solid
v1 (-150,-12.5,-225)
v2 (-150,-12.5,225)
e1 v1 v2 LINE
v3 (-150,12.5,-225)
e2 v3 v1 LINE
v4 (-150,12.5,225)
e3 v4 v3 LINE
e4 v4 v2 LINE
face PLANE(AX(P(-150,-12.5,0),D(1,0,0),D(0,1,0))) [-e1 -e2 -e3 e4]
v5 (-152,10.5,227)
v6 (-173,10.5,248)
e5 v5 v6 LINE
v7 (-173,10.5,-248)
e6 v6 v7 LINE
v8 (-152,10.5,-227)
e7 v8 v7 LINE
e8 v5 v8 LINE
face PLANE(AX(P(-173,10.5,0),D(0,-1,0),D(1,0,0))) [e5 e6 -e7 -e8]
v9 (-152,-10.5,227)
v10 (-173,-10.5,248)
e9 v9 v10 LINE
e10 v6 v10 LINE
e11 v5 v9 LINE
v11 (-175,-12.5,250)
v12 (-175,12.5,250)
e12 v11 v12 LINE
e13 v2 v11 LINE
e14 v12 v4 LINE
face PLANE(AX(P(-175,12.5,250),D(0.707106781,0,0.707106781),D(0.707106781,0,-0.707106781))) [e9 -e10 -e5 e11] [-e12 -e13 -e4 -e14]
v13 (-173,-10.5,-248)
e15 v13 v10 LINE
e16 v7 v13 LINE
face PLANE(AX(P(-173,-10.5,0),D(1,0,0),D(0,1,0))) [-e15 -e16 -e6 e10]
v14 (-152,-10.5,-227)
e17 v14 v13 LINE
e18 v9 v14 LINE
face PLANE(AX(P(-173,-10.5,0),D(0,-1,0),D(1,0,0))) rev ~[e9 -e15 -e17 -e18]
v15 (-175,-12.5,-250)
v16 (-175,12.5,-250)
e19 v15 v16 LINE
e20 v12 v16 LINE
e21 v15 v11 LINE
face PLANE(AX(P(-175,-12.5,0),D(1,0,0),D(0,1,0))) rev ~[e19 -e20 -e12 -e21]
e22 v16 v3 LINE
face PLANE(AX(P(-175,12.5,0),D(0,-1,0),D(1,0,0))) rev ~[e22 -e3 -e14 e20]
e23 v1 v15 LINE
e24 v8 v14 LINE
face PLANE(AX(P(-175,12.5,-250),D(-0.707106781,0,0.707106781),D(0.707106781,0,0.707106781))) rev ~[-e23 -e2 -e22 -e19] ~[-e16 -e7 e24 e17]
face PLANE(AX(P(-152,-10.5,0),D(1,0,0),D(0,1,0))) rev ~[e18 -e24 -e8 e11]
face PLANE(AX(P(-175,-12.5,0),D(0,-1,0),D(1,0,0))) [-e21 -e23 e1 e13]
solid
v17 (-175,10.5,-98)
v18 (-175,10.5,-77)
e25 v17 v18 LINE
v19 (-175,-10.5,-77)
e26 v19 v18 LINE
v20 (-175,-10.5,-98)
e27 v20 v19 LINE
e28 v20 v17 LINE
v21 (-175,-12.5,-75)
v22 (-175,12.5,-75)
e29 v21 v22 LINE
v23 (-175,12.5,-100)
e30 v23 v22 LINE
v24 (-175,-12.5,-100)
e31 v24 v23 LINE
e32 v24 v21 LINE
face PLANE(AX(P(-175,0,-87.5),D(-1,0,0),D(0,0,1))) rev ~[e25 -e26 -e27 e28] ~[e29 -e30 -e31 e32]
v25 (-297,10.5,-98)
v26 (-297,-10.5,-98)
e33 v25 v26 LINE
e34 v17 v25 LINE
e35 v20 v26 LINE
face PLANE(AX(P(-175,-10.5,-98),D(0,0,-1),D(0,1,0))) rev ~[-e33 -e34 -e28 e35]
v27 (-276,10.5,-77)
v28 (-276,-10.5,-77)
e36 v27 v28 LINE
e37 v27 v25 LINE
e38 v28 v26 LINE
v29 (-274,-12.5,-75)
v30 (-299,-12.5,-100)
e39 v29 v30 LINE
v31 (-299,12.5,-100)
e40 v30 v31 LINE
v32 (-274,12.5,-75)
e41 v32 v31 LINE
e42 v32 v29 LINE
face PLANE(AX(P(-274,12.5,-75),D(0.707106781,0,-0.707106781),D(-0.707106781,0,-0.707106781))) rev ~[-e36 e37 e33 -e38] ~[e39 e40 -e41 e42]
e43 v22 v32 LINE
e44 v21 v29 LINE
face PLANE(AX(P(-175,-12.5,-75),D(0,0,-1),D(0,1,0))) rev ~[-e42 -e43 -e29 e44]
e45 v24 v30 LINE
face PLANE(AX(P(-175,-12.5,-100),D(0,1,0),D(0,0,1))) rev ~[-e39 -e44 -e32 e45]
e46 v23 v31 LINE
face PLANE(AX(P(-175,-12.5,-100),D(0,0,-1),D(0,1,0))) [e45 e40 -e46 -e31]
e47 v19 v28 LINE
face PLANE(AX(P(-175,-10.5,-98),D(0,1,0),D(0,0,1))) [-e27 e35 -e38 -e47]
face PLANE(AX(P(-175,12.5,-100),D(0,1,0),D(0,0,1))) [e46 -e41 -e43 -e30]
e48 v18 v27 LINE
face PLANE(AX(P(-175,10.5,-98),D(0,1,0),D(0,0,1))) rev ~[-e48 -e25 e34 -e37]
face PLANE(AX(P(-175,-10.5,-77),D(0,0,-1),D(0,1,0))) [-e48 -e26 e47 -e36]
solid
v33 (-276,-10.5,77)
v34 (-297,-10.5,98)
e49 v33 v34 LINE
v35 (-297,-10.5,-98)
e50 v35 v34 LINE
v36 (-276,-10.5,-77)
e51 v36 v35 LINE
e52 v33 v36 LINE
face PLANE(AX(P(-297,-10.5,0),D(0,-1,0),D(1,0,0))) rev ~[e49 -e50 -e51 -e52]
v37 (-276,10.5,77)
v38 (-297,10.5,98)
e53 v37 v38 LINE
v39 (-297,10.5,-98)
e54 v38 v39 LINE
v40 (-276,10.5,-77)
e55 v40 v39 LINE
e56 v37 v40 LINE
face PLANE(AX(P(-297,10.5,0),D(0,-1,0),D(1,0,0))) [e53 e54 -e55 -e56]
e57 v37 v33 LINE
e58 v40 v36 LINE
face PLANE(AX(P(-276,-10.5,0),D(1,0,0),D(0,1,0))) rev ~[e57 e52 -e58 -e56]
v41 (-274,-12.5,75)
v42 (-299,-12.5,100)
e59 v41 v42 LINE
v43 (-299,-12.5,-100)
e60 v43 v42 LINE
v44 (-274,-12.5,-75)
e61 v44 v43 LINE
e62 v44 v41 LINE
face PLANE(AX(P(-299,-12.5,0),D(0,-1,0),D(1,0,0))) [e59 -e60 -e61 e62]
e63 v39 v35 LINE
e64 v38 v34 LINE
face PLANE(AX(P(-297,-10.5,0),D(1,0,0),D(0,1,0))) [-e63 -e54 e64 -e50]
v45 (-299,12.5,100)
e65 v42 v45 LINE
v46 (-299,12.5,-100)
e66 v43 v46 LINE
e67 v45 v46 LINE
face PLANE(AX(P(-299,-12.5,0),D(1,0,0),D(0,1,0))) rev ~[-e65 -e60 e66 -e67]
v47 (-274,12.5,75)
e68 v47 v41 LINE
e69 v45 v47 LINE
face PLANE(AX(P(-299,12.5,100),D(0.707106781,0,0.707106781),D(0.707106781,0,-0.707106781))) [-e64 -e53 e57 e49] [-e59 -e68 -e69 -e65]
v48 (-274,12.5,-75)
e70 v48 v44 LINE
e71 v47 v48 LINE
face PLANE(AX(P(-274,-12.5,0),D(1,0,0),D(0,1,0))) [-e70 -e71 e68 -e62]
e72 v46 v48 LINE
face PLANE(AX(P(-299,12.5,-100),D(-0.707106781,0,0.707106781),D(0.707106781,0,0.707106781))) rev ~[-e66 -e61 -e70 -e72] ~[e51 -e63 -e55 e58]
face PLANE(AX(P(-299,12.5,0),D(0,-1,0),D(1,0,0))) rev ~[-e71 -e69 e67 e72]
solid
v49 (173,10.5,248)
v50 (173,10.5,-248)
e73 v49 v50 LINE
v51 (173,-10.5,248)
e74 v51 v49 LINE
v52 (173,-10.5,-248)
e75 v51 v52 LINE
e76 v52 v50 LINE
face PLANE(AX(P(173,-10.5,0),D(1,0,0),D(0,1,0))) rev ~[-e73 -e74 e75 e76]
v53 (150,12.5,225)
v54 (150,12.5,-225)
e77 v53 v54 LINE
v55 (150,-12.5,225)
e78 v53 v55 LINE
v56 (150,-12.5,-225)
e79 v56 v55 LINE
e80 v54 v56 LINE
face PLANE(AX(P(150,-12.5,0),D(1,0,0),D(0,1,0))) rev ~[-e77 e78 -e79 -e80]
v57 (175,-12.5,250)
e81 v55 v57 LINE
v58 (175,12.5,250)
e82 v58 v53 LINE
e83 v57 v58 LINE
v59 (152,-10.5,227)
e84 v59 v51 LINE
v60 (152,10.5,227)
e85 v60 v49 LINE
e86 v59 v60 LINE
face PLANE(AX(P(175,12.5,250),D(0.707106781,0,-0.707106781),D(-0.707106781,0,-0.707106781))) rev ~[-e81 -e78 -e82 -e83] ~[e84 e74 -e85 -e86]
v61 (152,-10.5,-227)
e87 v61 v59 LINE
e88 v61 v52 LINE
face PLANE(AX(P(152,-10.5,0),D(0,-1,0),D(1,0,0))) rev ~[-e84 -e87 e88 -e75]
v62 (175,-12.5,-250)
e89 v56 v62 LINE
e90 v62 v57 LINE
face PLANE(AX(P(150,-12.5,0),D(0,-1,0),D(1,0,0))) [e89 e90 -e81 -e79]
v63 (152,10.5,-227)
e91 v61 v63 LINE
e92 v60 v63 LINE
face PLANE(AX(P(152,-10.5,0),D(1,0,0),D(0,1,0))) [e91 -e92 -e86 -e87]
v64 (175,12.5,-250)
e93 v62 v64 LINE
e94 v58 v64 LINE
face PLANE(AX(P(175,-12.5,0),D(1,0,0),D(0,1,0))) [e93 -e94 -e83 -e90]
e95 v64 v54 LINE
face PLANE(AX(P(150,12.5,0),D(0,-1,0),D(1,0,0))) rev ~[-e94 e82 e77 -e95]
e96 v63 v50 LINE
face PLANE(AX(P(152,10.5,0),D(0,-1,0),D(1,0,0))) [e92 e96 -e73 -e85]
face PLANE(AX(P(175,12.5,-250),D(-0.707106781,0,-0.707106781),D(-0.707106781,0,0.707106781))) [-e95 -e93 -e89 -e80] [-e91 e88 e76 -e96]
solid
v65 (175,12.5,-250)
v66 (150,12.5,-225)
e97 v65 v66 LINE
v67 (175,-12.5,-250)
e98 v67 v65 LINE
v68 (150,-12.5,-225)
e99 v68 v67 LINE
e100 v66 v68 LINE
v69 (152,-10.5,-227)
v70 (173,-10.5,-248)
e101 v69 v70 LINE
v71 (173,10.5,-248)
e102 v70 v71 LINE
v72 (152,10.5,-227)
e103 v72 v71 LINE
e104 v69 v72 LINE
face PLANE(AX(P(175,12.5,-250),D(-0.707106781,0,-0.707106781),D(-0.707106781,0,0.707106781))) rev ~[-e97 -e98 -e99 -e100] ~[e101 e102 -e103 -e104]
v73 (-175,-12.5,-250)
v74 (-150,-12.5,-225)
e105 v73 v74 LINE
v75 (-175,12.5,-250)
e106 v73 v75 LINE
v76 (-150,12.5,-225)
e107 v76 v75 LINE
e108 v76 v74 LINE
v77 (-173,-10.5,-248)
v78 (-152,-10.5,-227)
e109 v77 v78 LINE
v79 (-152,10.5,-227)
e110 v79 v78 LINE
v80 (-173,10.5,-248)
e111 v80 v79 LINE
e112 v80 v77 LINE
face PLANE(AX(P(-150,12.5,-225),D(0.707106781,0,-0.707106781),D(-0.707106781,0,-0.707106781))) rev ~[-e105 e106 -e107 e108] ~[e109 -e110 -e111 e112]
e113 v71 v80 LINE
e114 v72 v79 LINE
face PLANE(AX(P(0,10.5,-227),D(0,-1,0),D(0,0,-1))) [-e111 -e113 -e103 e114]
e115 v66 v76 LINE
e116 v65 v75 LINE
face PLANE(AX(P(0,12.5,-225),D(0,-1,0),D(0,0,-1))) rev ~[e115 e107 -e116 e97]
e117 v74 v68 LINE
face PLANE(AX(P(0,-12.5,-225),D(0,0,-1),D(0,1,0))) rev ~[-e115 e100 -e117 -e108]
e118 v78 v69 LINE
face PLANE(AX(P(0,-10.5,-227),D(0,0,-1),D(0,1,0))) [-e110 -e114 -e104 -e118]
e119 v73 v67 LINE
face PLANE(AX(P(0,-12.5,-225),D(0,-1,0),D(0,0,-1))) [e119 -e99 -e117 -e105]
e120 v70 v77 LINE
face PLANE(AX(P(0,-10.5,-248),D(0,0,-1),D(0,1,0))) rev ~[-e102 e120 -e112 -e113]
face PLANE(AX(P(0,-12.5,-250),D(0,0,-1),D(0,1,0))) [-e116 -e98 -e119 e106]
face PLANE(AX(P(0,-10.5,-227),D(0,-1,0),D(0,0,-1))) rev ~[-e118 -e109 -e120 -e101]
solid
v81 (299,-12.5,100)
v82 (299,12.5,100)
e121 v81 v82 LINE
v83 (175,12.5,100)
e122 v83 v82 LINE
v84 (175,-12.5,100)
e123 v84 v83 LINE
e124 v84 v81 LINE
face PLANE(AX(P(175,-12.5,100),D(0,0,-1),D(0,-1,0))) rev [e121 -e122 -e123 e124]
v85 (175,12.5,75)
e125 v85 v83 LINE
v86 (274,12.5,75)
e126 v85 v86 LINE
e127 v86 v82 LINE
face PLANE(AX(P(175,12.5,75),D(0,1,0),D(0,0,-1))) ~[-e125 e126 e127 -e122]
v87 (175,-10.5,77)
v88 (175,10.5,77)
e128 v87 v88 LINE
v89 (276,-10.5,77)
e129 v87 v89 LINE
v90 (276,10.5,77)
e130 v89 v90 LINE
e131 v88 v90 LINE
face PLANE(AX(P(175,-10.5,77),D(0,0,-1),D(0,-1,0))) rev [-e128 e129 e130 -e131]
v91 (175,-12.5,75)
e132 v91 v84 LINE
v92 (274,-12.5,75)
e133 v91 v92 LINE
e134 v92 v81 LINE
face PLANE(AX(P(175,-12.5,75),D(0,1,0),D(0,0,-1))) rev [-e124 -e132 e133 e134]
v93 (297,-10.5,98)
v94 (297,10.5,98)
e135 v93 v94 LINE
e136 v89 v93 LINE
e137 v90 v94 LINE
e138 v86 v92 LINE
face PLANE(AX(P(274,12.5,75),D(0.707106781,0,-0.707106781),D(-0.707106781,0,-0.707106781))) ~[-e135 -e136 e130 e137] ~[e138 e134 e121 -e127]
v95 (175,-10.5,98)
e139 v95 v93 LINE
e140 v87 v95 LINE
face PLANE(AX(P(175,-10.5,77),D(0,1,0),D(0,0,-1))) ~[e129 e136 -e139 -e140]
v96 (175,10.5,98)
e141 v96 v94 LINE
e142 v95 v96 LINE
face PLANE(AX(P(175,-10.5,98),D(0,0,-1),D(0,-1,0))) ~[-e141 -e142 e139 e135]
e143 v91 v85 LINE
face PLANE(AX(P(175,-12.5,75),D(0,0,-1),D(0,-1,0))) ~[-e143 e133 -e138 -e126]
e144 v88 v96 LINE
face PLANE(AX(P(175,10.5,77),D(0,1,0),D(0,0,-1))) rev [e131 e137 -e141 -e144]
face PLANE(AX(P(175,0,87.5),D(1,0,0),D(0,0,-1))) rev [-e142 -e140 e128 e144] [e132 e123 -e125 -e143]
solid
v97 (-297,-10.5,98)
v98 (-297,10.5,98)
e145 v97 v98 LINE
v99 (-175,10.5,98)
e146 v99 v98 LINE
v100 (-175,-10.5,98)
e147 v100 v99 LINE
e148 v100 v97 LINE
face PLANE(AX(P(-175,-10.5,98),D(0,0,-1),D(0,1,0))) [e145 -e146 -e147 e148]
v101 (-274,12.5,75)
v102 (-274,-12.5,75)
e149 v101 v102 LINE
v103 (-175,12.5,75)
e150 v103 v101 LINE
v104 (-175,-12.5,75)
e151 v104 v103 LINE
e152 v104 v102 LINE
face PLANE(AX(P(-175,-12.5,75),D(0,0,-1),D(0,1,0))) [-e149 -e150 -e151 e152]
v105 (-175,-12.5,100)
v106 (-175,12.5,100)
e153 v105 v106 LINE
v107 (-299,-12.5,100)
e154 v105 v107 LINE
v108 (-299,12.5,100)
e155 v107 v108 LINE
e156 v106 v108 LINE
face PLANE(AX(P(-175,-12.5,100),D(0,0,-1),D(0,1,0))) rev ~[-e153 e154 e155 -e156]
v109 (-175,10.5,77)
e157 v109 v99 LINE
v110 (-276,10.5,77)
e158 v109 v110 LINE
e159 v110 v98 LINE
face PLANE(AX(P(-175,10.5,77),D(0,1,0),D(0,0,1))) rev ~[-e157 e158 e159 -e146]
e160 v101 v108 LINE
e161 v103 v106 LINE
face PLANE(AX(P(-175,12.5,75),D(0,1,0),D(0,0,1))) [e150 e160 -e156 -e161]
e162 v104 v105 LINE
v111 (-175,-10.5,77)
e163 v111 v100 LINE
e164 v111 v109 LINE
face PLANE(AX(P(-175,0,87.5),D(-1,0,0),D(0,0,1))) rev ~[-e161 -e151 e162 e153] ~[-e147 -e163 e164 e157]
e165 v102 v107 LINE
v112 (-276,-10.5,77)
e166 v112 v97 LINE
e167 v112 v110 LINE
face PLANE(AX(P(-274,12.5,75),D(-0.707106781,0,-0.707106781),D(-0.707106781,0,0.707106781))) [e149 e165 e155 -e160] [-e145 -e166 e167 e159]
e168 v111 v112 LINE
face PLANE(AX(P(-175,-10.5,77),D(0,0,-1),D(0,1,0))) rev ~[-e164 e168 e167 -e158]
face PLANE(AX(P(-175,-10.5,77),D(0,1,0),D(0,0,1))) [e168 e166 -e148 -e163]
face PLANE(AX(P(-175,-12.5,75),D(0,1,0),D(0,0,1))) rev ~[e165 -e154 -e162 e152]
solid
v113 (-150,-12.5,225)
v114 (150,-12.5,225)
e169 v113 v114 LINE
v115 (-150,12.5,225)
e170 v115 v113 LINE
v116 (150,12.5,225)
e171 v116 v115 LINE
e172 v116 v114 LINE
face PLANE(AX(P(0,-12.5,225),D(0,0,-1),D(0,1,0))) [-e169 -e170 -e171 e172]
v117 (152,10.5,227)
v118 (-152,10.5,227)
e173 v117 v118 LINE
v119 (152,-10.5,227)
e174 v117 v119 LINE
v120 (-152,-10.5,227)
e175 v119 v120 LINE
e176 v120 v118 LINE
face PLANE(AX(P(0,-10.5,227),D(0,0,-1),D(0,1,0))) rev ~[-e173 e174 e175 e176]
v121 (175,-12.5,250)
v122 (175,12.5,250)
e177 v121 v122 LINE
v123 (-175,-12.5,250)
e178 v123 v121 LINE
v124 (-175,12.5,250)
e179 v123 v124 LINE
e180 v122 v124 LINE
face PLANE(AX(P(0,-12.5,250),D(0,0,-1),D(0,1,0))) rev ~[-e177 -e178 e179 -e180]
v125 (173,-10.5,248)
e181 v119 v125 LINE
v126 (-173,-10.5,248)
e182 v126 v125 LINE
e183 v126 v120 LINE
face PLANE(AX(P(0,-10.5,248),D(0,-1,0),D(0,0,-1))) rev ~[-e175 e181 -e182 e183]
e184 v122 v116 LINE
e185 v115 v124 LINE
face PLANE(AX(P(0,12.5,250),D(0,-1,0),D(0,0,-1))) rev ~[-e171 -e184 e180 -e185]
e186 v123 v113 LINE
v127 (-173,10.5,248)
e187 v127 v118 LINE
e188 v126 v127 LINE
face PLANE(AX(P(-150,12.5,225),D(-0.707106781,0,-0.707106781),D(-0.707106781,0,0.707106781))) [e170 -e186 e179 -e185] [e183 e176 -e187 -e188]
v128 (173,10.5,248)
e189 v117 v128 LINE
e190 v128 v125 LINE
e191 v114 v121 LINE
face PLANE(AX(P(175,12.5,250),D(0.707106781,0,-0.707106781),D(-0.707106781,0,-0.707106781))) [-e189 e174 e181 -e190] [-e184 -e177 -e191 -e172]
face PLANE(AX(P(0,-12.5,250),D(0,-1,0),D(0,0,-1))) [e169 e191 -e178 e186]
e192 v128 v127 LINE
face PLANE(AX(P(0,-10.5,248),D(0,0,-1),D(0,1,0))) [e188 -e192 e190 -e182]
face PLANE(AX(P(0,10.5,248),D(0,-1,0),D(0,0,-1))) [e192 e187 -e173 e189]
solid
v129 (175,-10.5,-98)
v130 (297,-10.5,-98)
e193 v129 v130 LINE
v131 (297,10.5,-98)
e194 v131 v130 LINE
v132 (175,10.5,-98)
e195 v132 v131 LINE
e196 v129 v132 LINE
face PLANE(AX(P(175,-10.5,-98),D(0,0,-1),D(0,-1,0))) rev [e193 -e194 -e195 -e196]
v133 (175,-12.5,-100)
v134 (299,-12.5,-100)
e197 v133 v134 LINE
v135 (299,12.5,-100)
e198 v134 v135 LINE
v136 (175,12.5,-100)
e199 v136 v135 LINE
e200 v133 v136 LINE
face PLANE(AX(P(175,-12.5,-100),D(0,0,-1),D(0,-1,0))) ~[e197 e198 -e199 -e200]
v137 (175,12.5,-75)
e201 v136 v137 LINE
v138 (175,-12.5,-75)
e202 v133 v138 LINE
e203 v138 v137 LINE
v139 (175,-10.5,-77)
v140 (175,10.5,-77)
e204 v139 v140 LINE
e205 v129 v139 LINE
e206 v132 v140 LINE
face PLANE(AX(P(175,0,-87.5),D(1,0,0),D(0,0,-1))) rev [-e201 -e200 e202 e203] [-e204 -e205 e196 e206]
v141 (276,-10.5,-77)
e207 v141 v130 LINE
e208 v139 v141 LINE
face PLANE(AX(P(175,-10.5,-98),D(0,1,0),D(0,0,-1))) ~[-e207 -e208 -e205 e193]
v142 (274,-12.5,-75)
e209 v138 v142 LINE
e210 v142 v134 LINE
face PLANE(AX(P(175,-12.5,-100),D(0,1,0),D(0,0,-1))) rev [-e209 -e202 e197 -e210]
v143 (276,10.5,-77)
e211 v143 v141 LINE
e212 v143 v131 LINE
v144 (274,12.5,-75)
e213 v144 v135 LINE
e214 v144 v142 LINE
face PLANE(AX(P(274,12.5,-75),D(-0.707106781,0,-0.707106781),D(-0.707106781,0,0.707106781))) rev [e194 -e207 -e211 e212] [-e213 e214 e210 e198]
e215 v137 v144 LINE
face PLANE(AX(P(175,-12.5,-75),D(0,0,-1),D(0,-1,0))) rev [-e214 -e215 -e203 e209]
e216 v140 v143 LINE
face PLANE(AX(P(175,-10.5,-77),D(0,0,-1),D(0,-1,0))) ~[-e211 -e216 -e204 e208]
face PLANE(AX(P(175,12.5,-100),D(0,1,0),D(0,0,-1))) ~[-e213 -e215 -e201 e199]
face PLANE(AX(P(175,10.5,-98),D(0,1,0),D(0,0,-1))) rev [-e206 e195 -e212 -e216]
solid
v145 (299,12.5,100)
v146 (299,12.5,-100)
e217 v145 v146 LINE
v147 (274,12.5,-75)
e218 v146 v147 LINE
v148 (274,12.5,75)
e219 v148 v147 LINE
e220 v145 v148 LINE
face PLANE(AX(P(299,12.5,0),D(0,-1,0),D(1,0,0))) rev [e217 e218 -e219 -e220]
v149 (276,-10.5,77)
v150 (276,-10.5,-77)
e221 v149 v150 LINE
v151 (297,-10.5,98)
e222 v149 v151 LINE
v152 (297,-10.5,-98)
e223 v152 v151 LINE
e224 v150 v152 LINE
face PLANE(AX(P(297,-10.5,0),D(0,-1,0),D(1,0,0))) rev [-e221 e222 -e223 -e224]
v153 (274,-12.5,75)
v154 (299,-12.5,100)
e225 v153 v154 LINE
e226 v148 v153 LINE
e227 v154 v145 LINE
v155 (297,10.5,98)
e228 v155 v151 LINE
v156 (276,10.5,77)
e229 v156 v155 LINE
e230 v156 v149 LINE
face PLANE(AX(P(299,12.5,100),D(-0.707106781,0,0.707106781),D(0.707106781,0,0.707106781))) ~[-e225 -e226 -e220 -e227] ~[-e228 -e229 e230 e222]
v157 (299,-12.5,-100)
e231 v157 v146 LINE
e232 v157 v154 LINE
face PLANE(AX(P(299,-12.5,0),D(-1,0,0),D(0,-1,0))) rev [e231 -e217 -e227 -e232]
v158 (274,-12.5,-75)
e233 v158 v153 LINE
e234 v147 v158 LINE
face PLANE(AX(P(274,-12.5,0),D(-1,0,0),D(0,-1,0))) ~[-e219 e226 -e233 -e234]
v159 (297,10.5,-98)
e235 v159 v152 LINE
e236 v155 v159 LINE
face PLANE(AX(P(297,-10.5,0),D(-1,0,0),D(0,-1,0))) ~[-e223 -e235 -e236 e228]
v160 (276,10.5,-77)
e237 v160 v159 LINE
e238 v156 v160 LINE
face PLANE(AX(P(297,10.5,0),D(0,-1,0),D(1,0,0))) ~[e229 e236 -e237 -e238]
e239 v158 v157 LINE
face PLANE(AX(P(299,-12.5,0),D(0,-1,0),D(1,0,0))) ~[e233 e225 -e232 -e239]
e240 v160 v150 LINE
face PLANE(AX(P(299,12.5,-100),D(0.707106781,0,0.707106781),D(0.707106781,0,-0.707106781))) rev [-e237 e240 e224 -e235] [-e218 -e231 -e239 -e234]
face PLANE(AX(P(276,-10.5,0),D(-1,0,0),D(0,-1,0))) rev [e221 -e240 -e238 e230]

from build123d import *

# Parameters (mm, degrees)
SKETCH1_W             = 25
SKETCH1_H             = 25
SKETCH1_W_2           = 21
SKETCH1_H_2           = 21
BOSS_EXTRUDE1_DEPTH   = 250
BOSS_EXTRUDE1_2_DEPTH = 250
CUT_EXTRUDE1_DEPTH    = 26
SKETCH3_W             = 25
SKETCH3_H             = 25
SKETCH3_W_2           = 21
SKETCH3_H_2           = 21
BOSS_EXTRUDE2_DEPTH   = 175
BOSS_EXTRUDE2_2_DEPTH = 175
CUT_EXTRUDE2_DEPTH    = 26
SKETCH5_W             = 25
SKETCH5_H             = 25
SKETCH5_W_2           = 21
SKETCH5_H_2           = 21
BOSS_EXTRUDE3_DEPTH   = 124
BOSS_EXTRUDE3_2_DEPTH = 124
CUT_EXTRUDE3_DEPTH    = 26
SKETCH7_W             = 25
SKETCH7_H             = 25
SKETCH7_W_2           = 21
SKETCH7_H_2           = 21
BOSS_EXTRUDE4_DEPTH   = 100
CUT_EXTRUDE4_DEPTH    = 26


with BuildPart() as part:
    # Sketch1 → Boss-Extrude1 (new body, symmetric)
    with BuildSketch(Plane.XY):
        with Locations((-162.5, 0)):
            Rectangle(SKETCH1_W, SKETCH1_H)
        with Locations((-162.5, 0)):
            Rectangle(SKETCH1_W_2, SKETCH1_H_2, mode=Mode.SUBTRACT)
    extrude(amount=BOSS_EXTRUDE1_DEPTH, both=True)


with BuildPart() as body_2:
    # Sketch1 → Boss-Extrude1 2 (new body, symmetric)
    with BuildSketch(Plane.XY):
        with Locations((162.5, 0)):
            Rectangle(SKETCH1_W, SKETCH1_H)
        with Locations((162.5, 0)):
            Rectangle(SKETCH1_W_2, SKETCH1_H_2, mode=Mode.SUBTRACT)
    extrude(amount=BOSS_EXTRUDE1_2_DEPTH, both=True)


with BuildPart() as cut_extrude1_tool:
    # Sketch2 → Cut-Extrude1 (new body, through all)
    with BuildSketch(Plane(origin=(0, 12.5, 0), x_dir=(1, 0, 0), z_dir=(0, 1, 0))):
        Polygon((-175, 250), (-150, 225), (-150, 250), align=None)
        Polygon((175, 250), (150, 225), (150, 250), align=None)
        Polygon((-175, -250), (-150, -225), (-150, -250), align=None)
        Polygon((175, -250), (150, -225), (150, -250), align=None)
    extrude(amount=-CUT_EXTRUDE1_DEPTH)


with BuildPart() as part_1:
    add(part.part)

    # Cut-Extrude1: cut by cut_extrude1_tool
    add(cut_extrude1_tool.part, mode=Mode.SUBTRACT)


with BuildPart() as body_2_1:
    add(body_2.part)

    # Cut-Extrude1: cut by cut_extrude1_tool
    add(cut_extrude1_tool.part, mode=Mode.SUBTRACT)


with BuildPart() as body_3:
    # Sketch3 → Boss-Extrude2 (new body, symmetric)
    with BuildSketch(Plane(origin=(0, 0, 0), x_dir=(0, 0, -1), z_dir=(1, 0, 0))):
        with Locations((-237.5, 0)):
            Rectangle(SKETCH3_W, SKETCH3_H)
        with Locations((-237.5, 0)):
            Rectangle(SKETCH3_W_2, SKETCH3_H_2, mode=Mode.SUBTRACT)
    extrude(amount=BOSS_EXTRUDE2_DEPTH, both=True)


with BuildPart() as body_4:
    # Sketch3 → Boss-Extrude2 2 (new body, symmetric)
    with BuildSketch(Plane(origin=(0, 0, 0), x_dir=(0, 0, -1), z_dir=(1, 0, 0))):
        with Locations((237.5, 0)):
            Rectangle(SKETCH3_W, SKETCH3_H)
        with Locations((237.5, 0)):
            Rectangle(SKETCH3_W_2, SKETCH3_H_2, mode=Mode.SUBTRACT)
    extrude(amount=BOSS_EXTRUDE2_2_DEPTH, both=True)


with BuildPart() as cut_extrude2_tool:
    # Sketch4 → Cut-Extrude2 (new body, through all)
    with BuildSketch(Plane(origin=(0, 12.5, 0), x_dir=(1, 0, 0), z_dir=(0, 1, 0))):
        Polygon((-175, 250), (-175, 225), (-150, 225), align=None)
        Polygon((175, 250), (150, 225), (175, 225), align=None)
        Polygon((175, -225), (175, -250), (150, -225), align=None)
        Polygon((-150, -225), (-175, -250), (-175, -225), align=None)
    extrude(amount=-CUT_EXTRUDE2_DEPTH)


with BuildPart() as body_3_1:
    add(body_3.part)

    # Cut-Extrude2: cut by cut_extrude2_tool
    add(cut_extrude2_tool.part, mode=Mode.SUBTRACT)


with BuildPart() as body_4_1:
    add(body_4.part)

    # Cut-Extrude2: cut by cut_extrude2_tool
    add(cut_extrude2_tool.part, mode=Mode.SUBTRACT)


with BuildPart() as body_5:
    # Sketch5 → Boss-Extrude3 (new body)
    with BuildSketch(Plane.ZY.offset(175)):
        with Locations((-87.5, 0)):
            Rectangle(SKETCH5_W, SKETCH5_H)
        with Locations((-87.5, 0)):
            Rectangle(SKETCH5_W_2, SKETCH5_H_2, mode=Mode.SUBTRACT)
    extrude(amount=BOSS_EXTRUDE3_DEPTH)


with BuildPart() as body_6:
    # Sketch5 → Boss-Extrude3 2 (new body)
    with BuildSketch(Plane.ZY.offset(175)):
        with Locations((87.5, 0)):
            Rectangle(SKETCH5_W, SKETCH5_H)
        with Locations((87.5, 0)):
            Rectangle(SKETCH5_W_2, SKETCH5_H_2, mode=Mode.SUBTRACT)
    extrude(amount=BOSS_EXTRUDE3_2_DEPTH)


with BuildPart() as cut_extrude3_tool:
    # Sketch6 → Cut-Extrude3 (new body, through all)
    with BuildSketch(Plane(origin=(0, 12.5, 0), x_dir=(1, 0, 0), z_dir=(0, 1, 0))):
        Polygon((-299, 100), (-299, 75), (-274, 75), align=None)
        Polygon((-299, -100), (-299, -75), (-274, -75), align=None)
    extrude(amount=-CUT_EXTRUDE3_DEPTH)


with BuildPart() as body_5_1:
    add(body_5.part)

    # Cut-Extrude3: cut by cut_extrude3_tool
    add(cut_extrude3_tool.part, mode=Mode.SUBTRACT)


with BuildPart() as body_6_1:
    add(body_6.part)

    # Cut-Extrude3: cut by cut_extrude3_tool
    add(cut_extrude3_tool.part, mode=Mode.SUBTRACT)


with BuildPart() as body_7:
    # Sketch7 → Boss-Extrude4 (new body, symmetric)
    with BuildSketch(Plane.XY):
        with Locations((-286.5, 0)):
            Rectangle(SKETCH7_W, SKETCH7_H)
        with Locations((-286.5, 0)):
            Rectangle(SKETCH7_W_2, SKETCH7_H_2, mode=Mode.SUBTRACT)
    extrude(amount=BOSS_EXTRUDE4_DEPTH, both=True)

    # Sketch8 → Cut-Extrude4 (cut, through all)
    with BuildSketch(Plane(origin=(0, 12.5, 0), x_dir=(1, 0, 0), z_dir=(0, 1, 0))):
        Polygon((-299, 100), (-274, 75), (-274, 100), align=None)
        Polygon((-274, -75), (-274, -100), (-299, -100), align=None)
    extrude(amount=-CUT_EXTRUDE4_DEPTH, mode=Mode.SUBTRACT)


with BuildPart() as body_8:
    # Mirror1: mirrored copy
    add(body_5_1.part.mirror(Plane(origin=(0, 0, 0), x_dir=(0, 0, 1), z_dir=(1, 0, 0))))


with BuildPart() as body_9:
    # Mirror1 2: mirrored copy
    add(body_7.part.mirror(Plane(origin=(0, 0, 0), x_dir=(0, 0, 1), z_dir=(1, 0, 0))))


with BuildPart() as body_10:
    # Mirror1 3: mirrored copy
    add(body_6_1.part.mirror(Plane(origin=(0, 0, 0), x_dir=(0, 0, 1), z_dir=(1, 0, 0))))


solid = Compound([part_1.part, body_2_1.part, body_3_1.part, body_4_1.part, body_5_1.part, body_6_1.part, body_7.part, body_8.part, body_9.part, body_10.part])
